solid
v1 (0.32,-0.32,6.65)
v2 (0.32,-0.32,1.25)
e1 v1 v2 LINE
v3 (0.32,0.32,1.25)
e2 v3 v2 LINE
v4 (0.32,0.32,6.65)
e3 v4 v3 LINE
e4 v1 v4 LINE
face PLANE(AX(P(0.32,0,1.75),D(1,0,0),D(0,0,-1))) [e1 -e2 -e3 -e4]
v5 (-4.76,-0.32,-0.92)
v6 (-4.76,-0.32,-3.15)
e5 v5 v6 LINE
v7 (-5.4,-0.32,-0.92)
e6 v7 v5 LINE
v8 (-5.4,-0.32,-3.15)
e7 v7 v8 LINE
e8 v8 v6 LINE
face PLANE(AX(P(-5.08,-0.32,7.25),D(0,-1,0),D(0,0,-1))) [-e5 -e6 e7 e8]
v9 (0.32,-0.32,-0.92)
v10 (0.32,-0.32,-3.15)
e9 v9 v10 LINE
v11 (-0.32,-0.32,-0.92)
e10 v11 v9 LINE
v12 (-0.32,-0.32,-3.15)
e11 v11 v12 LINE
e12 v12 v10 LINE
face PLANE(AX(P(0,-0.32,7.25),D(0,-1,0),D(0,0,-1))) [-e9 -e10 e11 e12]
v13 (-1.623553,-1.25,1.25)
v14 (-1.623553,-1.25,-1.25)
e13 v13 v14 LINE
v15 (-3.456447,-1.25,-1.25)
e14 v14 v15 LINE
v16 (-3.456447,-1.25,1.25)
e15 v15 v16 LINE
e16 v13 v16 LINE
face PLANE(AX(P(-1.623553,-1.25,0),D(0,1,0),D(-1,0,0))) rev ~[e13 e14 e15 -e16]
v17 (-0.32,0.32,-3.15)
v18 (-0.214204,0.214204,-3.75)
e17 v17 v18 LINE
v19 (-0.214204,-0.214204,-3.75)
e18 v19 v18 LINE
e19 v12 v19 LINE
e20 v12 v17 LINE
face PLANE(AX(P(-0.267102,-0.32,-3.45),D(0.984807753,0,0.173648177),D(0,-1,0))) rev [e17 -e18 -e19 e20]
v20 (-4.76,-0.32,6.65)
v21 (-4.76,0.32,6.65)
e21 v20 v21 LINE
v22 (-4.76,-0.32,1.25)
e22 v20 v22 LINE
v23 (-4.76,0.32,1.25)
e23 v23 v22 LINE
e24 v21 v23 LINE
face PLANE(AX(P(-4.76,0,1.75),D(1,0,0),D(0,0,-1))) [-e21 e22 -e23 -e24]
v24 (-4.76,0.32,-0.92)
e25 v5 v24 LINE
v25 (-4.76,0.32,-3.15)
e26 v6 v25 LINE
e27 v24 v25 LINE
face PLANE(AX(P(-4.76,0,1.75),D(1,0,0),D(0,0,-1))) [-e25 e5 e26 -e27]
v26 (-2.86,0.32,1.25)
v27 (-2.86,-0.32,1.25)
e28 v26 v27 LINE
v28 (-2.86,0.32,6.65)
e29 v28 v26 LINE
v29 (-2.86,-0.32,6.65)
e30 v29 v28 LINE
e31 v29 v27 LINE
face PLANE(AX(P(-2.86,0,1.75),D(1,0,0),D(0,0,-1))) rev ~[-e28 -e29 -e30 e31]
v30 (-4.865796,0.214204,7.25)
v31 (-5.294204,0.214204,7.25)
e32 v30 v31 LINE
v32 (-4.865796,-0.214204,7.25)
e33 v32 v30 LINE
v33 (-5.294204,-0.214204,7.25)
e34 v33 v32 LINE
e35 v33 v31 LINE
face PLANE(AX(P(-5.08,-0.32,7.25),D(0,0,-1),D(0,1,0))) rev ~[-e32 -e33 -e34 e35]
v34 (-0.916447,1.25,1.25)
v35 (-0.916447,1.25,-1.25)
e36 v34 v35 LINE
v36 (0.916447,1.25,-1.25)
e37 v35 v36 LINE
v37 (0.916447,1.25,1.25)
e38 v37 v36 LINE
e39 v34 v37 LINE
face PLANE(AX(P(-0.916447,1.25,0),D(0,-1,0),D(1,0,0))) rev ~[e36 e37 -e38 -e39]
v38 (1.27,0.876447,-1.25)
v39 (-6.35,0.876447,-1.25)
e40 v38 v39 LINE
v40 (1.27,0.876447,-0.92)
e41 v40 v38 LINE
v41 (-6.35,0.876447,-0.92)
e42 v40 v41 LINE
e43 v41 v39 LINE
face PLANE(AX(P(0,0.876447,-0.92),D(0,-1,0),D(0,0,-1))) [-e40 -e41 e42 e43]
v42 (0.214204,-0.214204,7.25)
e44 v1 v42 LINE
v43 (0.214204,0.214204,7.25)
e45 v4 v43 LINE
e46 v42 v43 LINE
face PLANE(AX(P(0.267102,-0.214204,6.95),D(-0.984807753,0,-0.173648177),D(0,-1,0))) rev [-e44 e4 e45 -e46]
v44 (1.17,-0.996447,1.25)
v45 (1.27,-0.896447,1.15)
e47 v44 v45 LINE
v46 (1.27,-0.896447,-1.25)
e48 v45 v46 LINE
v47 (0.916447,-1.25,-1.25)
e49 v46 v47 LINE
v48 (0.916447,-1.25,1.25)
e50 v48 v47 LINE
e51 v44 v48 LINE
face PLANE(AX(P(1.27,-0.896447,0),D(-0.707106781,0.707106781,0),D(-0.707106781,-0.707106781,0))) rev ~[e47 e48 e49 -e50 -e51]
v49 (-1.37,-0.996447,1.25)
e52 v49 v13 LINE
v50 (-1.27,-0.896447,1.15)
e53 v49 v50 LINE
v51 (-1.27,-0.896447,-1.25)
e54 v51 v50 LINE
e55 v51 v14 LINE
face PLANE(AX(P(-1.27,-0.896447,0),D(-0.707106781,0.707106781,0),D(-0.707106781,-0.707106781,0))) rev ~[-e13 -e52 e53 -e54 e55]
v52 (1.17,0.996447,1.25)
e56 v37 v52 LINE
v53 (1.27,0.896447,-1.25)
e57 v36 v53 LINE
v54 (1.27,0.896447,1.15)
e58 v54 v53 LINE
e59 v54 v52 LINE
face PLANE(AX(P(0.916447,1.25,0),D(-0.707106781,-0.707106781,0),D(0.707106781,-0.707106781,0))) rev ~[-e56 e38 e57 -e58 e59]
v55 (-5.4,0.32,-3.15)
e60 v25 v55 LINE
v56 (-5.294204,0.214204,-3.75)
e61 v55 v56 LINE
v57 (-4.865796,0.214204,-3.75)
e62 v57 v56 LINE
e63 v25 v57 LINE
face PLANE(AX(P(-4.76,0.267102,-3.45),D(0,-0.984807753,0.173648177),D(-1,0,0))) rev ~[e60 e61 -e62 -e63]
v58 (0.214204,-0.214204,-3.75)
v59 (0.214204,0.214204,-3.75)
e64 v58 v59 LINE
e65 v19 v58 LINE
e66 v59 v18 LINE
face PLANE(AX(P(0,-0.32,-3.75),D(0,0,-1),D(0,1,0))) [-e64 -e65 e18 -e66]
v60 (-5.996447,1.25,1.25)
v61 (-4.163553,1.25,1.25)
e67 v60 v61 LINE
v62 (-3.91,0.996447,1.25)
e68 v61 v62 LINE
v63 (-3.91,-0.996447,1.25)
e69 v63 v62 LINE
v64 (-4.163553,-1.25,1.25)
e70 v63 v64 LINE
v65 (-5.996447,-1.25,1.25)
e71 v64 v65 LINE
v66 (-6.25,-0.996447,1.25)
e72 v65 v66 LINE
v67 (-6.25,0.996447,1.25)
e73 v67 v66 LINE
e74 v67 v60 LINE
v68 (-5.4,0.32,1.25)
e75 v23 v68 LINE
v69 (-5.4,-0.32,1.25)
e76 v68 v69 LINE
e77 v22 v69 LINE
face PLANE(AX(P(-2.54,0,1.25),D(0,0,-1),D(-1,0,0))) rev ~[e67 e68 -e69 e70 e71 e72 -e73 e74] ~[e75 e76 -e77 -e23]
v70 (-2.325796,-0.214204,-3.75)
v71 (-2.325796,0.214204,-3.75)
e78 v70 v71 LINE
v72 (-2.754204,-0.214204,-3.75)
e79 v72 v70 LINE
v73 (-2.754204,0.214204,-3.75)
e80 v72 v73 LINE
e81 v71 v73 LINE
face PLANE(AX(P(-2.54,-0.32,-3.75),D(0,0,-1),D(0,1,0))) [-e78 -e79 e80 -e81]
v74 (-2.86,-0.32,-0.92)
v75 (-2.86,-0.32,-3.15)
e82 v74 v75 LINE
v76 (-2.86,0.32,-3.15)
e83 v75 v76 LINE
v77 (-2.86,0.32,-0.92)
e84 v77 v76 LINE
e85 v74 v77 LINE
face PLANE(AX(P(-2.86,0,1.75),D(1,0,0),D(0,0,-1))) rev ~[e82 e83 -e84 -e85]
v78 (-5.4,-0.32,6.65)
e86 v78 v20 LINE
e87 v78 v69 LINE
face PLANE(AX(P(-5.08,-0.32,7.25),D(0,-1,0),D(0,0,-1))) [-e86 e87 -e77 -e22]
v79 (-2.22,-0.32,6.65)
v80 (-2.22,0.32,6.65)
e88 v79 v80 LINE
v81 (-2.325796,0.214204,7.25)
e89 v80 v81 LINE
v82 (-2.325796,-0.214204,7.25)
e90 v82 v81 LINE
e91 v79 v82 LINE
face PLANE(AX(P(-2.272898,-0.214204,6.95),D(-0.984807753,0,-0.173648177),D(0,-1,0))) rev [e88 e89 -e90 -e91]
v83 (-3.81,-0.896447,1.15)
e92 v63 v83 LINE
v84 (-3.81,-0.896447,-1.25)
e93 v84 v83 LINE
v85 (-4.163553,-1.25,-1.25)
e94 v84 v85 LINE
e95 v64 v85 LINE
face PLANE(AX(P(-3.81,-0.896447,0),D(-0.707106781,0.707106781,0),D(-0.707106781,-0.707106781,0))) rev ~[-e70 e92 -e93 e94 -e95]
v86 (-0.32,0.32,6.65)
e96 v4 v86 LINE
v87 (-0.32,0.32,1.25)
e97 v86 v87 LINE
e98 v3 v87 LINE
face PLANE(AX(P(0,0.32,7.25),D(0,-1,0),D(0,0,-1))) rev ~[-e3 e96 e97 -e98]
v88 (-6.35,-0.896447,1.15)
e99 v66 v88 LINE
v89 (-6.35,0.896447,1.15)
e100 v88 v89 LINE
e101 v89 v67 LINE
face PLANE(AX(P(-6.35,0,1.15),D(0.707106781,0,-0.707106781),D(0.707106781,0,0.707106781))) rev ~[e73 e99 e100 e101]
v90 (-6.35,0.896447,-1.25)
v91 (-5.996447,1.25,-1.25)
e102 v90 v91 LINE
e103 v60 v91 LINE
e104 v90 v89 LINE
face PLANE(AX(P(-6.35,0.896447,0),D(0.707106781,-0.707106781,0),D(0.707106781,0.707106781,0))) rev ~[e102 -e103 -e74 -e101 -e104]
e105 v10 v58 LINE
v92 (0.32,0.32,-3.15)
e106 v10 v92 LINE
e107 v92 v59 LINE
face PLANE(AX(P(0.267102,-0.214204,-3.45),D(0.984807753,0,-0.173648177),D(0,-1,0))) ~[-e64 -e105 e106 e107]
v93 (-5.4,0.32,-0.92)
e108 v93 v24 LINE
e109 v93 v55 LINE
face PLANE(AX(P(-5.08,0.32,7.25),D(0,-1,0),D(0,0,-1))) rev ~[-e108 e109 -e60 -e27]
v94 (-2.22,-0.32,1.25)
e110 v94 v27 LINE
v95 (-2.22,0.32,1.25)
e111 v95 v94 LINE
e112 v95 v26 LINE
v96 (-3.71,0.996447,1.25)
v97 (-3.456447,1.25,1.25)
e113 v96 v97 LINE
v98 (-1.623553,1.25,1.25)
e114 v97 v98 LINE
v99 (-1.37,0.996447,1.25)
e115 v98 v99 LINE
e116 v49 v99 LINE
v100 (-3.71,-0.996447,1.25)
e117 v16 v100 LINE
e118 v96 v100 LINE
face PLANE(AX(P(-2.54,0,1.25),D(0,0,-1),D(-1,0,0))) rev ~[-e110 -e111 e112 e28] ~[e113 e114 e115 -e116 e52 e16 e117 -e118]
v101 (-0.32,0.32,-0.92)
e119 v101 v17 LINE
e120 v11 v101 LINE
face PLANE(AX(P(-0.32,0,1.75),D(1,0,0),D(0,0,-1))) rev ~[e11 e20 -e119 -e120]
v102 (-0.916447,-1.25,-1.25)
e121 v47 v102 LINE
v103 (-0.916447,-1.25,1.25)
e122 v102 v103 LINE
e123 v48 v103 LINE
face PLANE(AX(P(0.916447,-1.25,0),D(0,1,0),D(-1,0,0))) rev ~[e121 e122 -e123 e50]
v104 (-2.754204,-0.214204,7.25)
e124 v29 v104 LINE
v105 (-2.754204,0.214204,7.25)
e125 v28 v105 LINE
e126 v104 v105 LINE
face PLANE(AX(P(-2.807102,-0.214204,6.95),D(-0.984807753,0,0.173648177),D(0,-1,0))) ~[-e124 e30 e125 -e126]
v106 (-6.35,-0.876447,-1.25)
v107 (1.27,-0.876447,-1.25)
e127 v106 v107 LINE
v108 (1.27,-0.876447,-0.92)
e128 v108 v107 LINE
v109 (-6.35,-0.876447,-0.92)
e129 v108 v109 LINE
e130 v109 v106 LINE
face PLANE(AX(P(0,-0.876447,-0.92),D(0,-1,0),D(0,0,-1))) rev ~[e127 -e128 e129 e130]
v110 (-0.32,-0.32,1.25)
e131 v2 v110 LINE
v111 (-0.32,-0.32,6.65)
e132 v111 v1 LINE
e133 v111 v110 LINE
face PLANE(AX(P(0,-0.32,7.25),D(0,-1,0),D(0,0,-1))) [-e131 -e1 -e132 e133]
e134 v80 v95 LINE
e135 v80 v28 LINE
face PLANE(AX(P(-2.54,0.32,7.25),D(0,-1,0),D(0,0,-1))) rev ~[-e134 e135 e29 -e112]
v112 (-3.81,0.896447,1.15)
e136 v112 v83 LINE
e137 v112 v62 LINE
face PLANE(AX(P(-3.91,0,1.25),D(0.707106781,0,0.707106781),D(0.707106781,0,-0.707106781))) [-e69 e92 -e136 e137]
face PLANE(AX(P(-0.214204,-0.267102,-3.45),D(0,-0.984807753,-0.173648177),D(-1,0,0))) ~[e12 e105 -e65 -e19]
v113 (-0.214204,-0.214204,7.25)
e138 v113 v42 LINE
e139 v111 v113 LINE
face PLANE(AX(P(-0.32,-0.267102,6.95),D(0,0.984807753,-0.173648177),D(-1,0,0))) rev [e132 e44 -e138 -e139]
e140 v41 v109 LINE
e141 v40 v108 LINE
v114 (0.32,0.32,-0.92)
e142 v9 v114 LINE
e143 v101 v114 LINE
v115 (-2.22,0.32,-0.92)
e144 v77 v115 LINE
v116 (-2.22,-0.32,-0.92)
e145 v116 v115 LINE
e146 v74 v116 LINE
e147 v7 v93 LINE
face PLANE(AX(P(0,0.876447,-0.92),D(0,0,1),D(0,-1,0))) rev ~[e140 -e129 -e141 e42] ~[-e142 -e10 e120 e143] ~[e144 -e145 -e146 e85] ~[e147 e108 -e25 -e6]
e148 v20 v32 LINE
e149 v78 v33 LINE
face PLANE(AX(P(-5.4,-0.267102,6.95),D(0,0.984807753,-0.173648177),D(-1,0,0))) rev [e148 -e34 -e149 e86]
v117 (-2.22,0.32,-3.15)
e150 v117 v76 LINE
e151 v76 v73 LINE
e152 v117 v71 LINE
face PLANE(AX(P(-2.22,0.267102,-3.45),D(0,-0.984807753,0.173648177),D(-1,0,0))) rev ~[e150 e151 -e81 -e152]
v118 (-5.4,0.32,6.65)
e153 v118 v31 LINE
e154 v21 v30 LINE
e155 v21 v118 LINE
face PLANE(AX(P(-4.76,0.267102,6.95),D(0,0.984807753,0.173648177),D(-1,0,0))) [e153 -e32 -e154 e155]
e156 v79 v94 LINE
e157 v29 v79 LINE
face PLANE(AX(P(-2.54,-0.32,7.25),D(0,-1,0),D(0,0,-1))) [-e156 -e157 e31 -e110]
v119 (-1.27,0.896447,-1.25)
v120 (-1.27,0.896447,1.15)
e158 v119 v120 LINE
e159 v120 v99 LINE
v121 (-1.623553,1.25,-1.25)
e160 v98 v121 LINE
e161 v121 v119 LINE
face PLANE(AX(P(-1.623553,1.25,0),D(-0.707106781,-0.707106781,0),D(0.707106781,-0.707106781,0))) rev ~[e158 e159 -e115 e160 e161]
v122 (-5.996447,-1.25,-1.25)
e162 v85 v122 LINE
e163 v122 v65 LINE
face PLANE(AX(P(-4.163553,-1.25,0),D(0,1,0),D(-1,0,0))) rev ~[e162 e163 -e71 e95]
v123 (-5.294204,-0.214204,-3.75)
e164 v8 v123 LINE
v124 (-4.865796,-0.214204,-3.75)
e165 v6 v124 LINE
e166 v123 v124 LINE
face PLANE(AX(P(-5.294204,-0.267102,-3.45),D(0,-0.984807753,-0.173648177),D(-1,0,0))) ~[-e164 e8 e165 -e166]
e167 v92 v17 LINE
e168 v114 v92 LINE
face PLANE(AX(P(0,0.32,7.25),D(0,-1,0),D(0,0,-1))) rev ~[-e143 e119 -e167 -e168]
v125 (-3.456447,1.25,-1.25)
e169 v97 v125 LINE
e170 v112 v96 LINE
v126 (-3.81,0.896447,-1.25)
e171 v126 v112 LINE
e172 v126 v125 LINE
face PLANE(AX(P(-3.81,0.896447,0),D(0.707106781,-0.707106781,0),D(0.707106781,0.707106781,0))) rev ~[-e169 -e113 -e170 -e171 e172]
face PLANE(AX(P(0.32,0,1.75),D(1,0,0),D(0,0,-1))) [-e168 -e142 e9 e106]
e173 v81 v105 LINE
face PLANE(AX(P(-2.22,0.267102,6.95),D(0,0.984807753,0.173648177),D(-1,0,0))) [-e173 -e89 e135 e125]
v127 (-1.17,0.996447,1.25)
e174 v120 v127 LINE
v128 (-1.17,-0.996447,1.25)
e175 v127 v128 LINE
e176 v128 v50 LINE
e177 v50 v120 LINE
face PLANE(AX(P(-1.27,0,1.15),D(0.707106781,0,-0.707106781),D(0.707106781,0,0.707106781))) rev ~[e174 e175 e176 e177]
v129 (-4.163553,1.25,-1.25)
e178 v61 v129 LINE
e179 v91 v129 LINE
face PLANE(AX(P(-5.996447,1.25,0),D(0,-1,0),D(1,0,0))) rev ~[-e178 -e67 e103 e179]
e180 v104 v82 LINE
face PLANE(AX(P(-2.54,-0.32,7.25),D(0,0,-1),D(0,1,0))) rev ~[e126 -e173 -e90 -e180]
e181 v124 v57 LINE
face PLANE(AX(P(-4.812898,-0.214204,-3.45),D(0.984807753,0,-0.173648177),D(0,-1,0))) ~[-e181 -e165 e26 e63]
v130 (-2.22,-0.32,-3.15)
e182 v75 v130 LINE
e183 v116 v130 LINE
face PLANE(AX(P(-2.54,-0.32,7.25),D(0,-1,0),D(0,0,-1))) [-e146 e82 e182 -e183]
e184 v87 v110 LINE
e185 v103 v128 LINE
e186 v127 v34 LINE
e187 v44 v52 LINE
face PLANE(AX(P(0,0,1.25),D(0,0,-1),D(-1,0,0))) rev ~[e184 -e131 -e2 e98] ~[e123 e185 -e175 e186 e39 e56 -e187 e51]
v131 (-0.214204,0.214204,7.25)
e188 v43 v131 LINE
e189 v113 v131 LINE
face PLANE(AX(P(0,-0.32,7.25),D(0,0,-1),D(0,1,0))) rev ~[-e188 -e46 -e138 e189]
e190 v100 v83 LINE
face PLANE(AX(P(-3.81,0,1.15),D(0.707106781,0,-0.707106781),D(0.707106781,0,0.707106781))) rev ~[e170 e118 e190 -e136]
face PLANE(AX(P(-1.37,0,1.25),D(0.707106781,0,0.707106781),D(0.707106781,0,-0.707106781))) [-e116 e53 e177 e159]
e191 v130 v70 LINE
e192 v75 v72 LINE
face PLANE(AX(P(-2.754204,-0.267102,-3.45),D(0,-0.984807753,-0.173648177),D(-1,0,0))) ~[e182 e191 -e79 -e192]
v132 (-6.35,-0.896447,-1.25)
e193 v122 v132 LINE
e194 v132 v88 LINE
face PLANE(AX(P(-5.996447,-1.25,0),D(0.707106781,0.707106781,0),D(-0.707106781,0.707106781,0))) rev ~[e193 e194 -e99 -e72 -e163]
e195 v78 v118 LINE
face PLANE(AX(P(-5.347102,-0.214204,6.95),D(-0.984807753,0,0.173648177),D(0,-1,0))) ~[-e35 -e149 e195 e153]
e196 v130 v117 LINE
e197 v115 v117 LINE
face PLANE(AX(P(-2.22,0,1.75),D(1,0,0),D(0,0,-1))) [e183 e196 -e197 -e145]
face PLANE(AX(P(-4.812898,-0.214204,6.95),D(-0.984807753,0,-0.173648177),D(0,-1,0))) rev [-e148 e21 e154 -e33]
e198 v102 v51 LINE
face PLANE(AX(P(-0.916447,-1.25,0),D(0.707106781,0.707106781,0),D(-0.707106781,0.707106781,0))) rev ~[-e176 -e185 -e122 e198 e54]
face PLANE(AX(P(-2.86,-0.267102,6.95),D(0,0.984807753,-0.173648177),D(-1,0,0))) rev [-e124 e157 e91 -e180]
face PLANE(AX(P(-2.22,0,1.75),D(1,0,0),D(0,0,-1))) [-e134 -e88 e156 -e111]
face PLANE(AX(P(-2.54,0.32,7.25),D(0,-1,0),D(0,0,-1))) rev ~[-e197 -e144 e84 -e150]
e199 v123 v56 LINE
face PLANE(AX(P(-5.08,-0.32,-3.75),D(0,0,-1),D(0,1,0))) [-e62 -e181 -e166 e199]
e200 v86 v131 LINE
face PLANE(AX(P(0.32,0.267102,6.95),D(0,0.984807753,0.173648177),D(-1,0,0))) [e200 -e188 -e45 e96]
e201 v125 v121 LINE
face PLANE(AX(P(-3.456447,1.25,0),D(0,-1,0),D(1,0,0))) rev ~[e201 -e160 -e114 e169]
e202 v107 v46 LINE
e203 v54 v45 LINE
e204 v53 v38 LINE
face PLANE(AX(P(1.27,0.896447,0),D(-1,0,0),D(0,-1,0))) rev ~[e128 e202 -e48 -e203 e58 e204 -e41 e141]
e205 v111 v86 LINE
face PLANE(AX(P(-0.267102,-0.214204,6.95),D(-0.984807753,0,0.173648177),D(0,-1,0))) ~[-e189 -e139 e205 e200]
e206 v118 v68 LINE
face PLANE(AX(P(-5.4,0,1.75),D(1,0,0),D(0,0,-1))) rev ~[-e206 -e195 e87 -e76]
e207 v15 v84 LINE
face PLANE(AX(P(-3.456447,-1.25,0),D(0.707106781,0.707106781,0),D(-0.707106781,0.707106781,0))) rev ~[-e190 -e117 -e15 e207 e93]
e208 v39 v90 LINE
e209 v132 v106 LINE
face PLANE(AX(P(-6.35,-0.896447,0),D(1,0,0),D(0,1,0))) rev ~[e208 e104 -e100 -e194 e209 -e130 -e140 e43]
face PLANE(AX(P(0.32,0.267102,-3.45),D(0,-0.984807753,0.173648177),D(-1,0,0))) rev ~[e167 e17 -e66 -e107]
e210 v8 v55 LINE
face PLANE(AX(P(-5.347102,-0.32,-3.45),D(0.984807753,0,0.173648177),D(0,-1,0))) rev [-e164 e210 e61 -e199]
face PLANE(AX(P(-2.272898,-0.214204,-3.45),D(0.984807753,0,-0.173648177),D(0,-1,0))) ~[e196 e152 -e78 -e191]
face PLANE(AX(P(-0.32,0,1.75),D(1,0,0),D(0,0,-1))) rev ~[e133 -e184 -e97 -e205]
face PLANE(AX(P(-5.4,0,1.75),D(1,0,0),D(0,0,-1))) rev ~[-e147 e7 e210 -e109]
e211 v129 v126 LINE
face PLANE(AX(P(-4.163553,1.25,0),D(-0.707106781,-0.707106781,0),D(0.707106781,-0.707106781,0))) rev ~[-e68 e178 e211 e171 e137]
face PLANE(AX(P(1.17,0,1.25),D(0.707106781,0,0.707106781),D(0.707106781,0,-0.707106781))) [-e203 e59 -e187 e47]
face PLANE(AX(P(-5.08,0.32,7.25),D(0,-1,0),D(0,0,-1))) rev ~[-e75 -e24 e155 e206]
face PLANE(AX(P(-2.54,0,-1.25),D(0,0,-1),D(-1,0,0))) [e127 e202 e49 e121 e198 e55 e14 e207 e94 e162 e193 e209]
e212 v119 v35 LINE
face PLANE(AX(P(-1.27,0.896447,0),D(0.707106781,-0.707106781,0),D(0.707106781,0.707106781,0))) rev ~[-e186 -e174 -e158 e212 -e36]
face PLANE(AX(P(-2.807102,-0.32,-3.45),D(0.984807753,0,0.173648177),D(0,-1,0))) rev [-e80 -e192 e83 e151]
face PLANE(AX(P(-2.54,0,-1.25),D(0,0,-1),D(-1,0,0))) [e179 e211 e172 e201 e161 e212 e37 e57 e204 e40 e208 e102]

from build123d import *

# Parameters (mm, degrees)
EXTRUDE1_DEPTH          = 1.25
CUT_EXTRUDE3_DEPTH      = 2.25
LPATTERN4_COUNT         = 3
LPATTERN4_PITCH         = 2.54
SKETCH2_W               = 1.752893218
SKETCH2_H               = 0.33
CUT_EXTRUDE1_DEPTH      = 2.27
CUT_EXTRUDE1_DEPTH_BACK = 7.35
SKETCH3_W               = 11
SKETCH3_H               = 0.64
EXTRUDE_THIN1_DEPTH     = 0.32
LPATTERN5_COUNT         = 3
LPATTERN5_PITCH         = 2.54
CHAMFER2_SIZE           = 0.6
CHAMFER2_SIZE2          = 0.105796188
CHAMFER2_PART_2_SIZE    = 0.6
CHAMFER2_PART_2_SIZE2   = 0.105796188
CHAMFER2_PART_3_SIZE    = 0.6
CHAMFER2_PART_3_SIZE2   = 0.105796188
CHAMFER2_PART_4_SIZE    = 0.6
CHAMFER2_PART_4_SIZE2   = 0.105796188
CHAMFER2_PART_5_SIZE    = 0.6
CHAMFER2_PART_5_SIZE2   = 0.105796188
CHAMFER2_PART_6_SIZE    = 0.6
CHAMFER2_PART_6_SIZE2   = 0.105796188
CHAMFER2_PART_7_SIZE    = 0.6
CHAMFER2_PART_7_SIZE2   = 0.105796188
CHAMFER2_PART_8_SIZE    = 0.6
CHAMFER2_PART_8_SIZE2   = 0.105796188
CHAMFER2_PART_9_SIZE    = 0.6
CHAMFER2_PART_9_SIZE2   = 0.105796188
CHAMFER2_PART_10_SIZE   = 0.6
CHAMFER2_PART_10_SIZE2  = 0.105796188
CHAMFER2_PART_11_SIZE   = 0.6
CHAMFER2_PART_11_SIZE2  = 0.105796188
CHAMFER2_PART_12_SIZE   = 0.6
CHAMFER2_PART_12_SIZE2  = 0.105796188
CHAMFER2_PART_13_SIZE   = 0.6
CHAMFER2_PART_13_SIZE2  = 0.105796188
CHAMFER2_PART_14_SIZE   = 0.6
CHAMFER2_PART_14_SIZE2  = 0.105796188
CHAMFER2_PART_15_SIZE   = 0.6
CHAMFER2_PART_15_SIZE2  = 0.105796188
CHAMFER2_PART_16_SIZE   = 0.6
CHAMFER2_PART_16_SIZE2  = 0.105796188
CHAMFER2_PART_17_SIZE   = 0.6
CHAMFER2_PART_17_SIZE2  = 0.105796188
CHAMFER2_PART_18_SIZE   = 0.6
CHAMFER2_PART_18_SIZE2  = 0.105796188
CHAMFER2_PART_19_SIZE   = 0.6
CHAMFER2_PART_19_SIZE2  = 0.105796188
CHAMFER2_PART_20_SIZE   = 0.6
CHAMFER2_PART_20_SIZE2  = 0.105796188
CHAMFER2_PART_21_SIZE   = 0.6
CHAMFER2_PART_21_SIZE2  = 0.105796188
CHAMFER2_PART_22_SIZE   = 0.6
CHAMFER2_PART_22_SIZE2  = 0.105796188
CHAMFER2_PART_23_SIZE   = 0.6
CHAMFER2_PART_23_SIZE2  = 0.105796188
CHAMFER2_PART_24_SIZE   = 0.6
CHAMFER2_PART_24_SIZE2  = 0.105796188


with BuildPart() as part:
    # Sketch1 → Extrude1 (new body, symmetric)
    with BuildSketch(Plane.XY):
        Polygon((-1.27, 0.896446609), (-0.916446609, 1.25), (0.916446609, 1.25), (1.27, 0.896446609), (1.27, -0.896446609), (0.916446609, -1.25), (-0.916446609, -1.25), (-1.27, -0.896446609), align=None)
    extrude1 = extrude(amount=EXTRUDE1_DEPTH, both=True)

    # Sketch4 → Cut-Extrude3 (cut, symmetric)
    with BuildSketch(Plane(origin=(0, 0, 0), x_dir=(1, 0, 0), z_dir=(0, 1, 0))):
        Polygon((-1.27, -1.15), (-1.17, -1.25), (-1.27, -1.25), align=None)
        Polygon((1.17, -1.25), (1.27, -1.15), (1.27, -1.25), align=None)
    cut_extrude3 = extrude(amount=CUT_EXTRUDE3_DEPTH, both=True, mode=Mode.SUBTRACT)

    # LPattern4: Extrude1, Cut-Extrude3 ×3
    with Locations(*[(-i * LPATTERN4_PITCH, 0, 0) for i in range(1, LPATTERN4_COUNT)]):
        add(extrude1)
        add(cut_extrude3, mode=Mode.SUBTRACT)

    # Sketch2 → Cut-Extrude1 (cut, two sides)
    with BuildSketch(Plane(origin=(0, 0, 0), x_dir=(0, -1, 0), z_dir=(1, 0, 0))) as cut_extrude1_sk:
        with Locations((0, 1.085)):
            Rectangle(SKETCH2_W, SKETCH2_H)
    extrude(amount=CUT_EXTRUDE1_DEPTH, mode=Mode.SUBTRACT)
    extrude(cut_extrude1_sk.sketch, amount=-CUT_EXTRUDE1_DEPTH_BACK, mode=Mode.SUBTRACT)

    # Sketch3 → Extrude-Thin1 (add, symmetric)
    with BuildSketch(Plane(origin=(0, 0, 0), x_dir=(0, 0, -1), z_dir=(1, 0, 0))):
        with Locations((-1.75, 0)):
            Rectangle(SKETCH3_W, SKETCH3_H)
    extrude_thin1 = extrude(amount=EXTRUDE_THIN1_DEPTH, both=True)

    # LPattern5: Extrude-Thin1 ×3
    with Locations(*[(-i * LPATTERN5_PITCH, 0, 0) for i in range(1, LPATTERN5_COUNT)]):
        add(extrude_thin1)

    # Chamfer2
    chamfer2_edges = [part.edges().sort_by_distance(p)[0] for p in [
        (0, -0.32, 7.25),
    ]]
    chamfer2_side = [part.faces().sort_by_distance(p)[0] for p in [
        (0, -0.32, 4.25),
    ]]
    chamfer(chamfer2_edges, length=CHAMFER2_SIZE, length2=CHAMFER2_SIZE2, reference=chamfer2_side[0])

    # Chamfer2 part 2
    chamfer2_part_2_edges = [part.edges().sort_by_distance(p)[0] for p in [
        (0, 0.32, -3.75),
    ]]
    chamfer2_part_2_side = [part.faces().sort_by_distance(p)[0] for p in [
        (0, 0.32, -2.335),
    ]]
    chamfer(chamfer2_part_2_edges, length=CHAMFER2_PART_2_SIZE, length2=CHAMFER2_PART_2_SIZE2, reference=chamfer2_part_2_side[0])

    # Chamfer2 part 3
    chamfer2_part_3_edges = [part.edges().sort_by_distance(p)[0] for p in [
        (-0.32, 0, 7.25),
    ]]
    chamfer2_part_3_side = [part.faces().sort_by_distance(p)[0] for p in [
        (-0.32, 0, 4.25),
    ]]
    chamfer(chamfer2_part_3_edges, length=CHAMFER2_PART_3_SIZE, length2=CHAMFER2_PART_3_SIZE2, reference=chamfer2_part_3_side[0])

    # Chamfer2 part 4
    chamfer2_part_4_edges = [part.edges().sort_by_distance(p)[0] for p in [
        (-0.32, 0, -3.75),
    ]]
    chamfer2_part_4_side = [part.faces().sort_by_distance(p)[0] for p in [
        (-0.32, 0, -2.335),
    ]]
    chamfer(chamfer2_part_4_edges, length=CHAMFER2_PART_4_SIZE, length2=CHAMFER2_PART_4_SIZE2, reference=chamfer2_part_4_side[0])

    # Chamfer2 part 5
    chamfer2_part_5_edges = [part.edges().sort_by_distance(p)[0] for p in [
        (0, -0.32, -3.75),
    ]]
    chamfer2_part_5_side = [part.faces().sort_by_distance(p)[0] for p in [
        (0, -0.32, -2.335),
    ]]
    chamfer(chamfer2_part_5_edges, length=CHAMFER2_PART_5_SIZE, length2=CHAMFER2_PART_5_SIZE2, reference=chamfer2_part_5_side[0])

    # Chamfer2 part 6
    chamfer2_part_6_edges = [part.edges().sort_by_distance(p)[0] for p in [
        (0.32, 0, -3.75),
    ]]
    chamfer2_part_6_side = [part.faces().sort_by_distance(p)[0] for p in [
        (0.32, 0, -2.335),
    ]]
    chamfer(chamfer2_part_6_edges, length=CHAMFER2_PART_6_SIZE, length2=CHAMFER2_PART_6_SIZE2, reference=chamfer2_part_6_side[0])

    # Chamfer2 part 7
    chamfer2_part_7_edges = [part.edges().sort_by_distance(p)[0] for p in [
        (0, 0.32, 7.25),
    ]]
    chamfer2_part_7_side = [part.faces().sort_by_distance(p)[0] for p in [
        (0, 0.32, 4.25),
    ]]
    chamfer(chamfer2_part_7_edges, length=CHAMFER2_PART_7_SIZE, length2=CHAMFER2_PART_7_SIZE2, reference=chamfer2_part_7_side[0])

    # Chamfer2 part 8
    chamfer2_part_8_edges = [part.edges().sort_by_distance(p)[0] for p in [
        (0.32, 0, 7.25),
    ]]
    chamfer2_part_8_side = [part.faces().sort_by_distance(p)[0] for p in [
        (0.32, 0, 4.25),
    ]]
    chamfer(chamfer2_part_8_edges, length=CHAMFER2_PART_8_SIZE, length2=CHAMFER2_PART_8_SIZE2, reference=chamfer2_part_8_side[0])

    # Chamfer2 part 9
    chamfer2_part_9_edges = [part.edges().sort_by_distance(p)[0] for p in [
        (-2.54, -0.32, 7.25),
    ]]
    chamfer2_part_9_side = [part.faces().sort_by_distance(p)[0] for p in [
        (-2.54, -0.32, 4.25),
    ]]
    chamfer(chamfer2_part_9_edges, length=CHAMFER2_PART_9_SIZE, length2=CHAMFER2_PART_9_SIZE2, reference=chamfer2_part_9_side[0])

    # Chamfer2 part 10
    chamfer2_part_10_edges = [part.edges().sort_by_distance(p)[0] for p in [
        (-2.54, 0.32, -3.75),
    ]]
    chamfer2_part_10_side = [part.faces().sort_by_distance(p)[0] for p in [
        (-2.54, 0.32, -2.335),
    ]]
    chamfer(chamfer2_part_10_edges, length=CHAMFER2_PART_10_SIZE, length2=CHAMFER2_PART_10_SIZE2, reference=chamfer2_part_10_side[0])

    # Chamfer2 part 11
    chamfer2_part_11_edges = [part.edges().sort_by_distance(p)[0] for p in [
        (-2.86, 0, -3.75),
    ]]
    chamfer2_part_11_side = [part.faces().sort_by_distance(p)[0] for p in [
        (-2.86, 0, -2.335),
    ]]
    chamfer(chamfer2_part_11_edges, length=CHAMFER2_PART_11_SIZE, length2=CHAMFER2_PART_11_SIZE2, reference=chamfer2_part_11_side[0])

    # Chamfer2 part 12
    chamfer2_part_12_edges = [part.edges().sort_by_distance(p)[0] for p in [
        (-2.86, 0, 7.25),
    ]]
    chamfer2_part_12_side = [part.faces().sort_by_distance(p)[0] for p in [
        (-2.86, 0, 4.25),
    ]]
    chamfer(chamfer2_part_12_edges, length=CHAMFER2_PART_12_SIZE, length2=CHAMFER2_PART_12_SIZE2, reference=chamfer2_part_12_side[0])

    # Chamfer2 part 13
    chamfer2_part_13_edges = [part.edges().sort_by_distance(p)[0] for p in [
        (-2.54, -0.32, -3.75),
    ]]
    chamfer2_part_13_side = [part.faces().sort_by_distance(p)[0] for p in [
        (-2.54, -0.32, -2.335),
    ]]
    chamfer(chamfer2_part_13_edges, length=CHAMFER2_PART_13_SIZE, length2=CHAMFER2_PART_13_SIZE2, reference=chamfer2_part_13_side[0])

    # Chamfer2 part 14
    chamfer2_part_14_edges = [part.edges().sort_by_distance(p)[0] for p in [
        (-2.22, 0, -3.75),
    ]]
    chamfer2_part_14_side = [part.faces().sort_by_distance(p)[0] for p in [
        (-2.22, 0, -2.335),
    ]]
    chamfer(chamfer2_part_14_edges, length=CHAMFER2_PART_14_SIZE, length2=CHAMFER2_PART_14_SIZE2, reference=chamfer2_part_14_side[0])

    # Chamfer2 part 15
    chamfer2_part_15_edges = [part.edges().sort_by_distance(p)[0] for p in [
        (-2.54, 0.32, 7.25),
    ]]
    chamfer2_part_15_side = [part.faces().sort_by_distance(p)[0] for p in [
        (-2.54, 0.32, 4.25),
    ]]
    chamfer(chamfer2_part_15_edges, length=CHAMFER2_PART_15_SIZE, length2=CHAMFER2_PART_15_SIZE2, reference=chamfer2_part_15_side[0])

    # Chamfer2 part 16
    chamfer2_part_16_edges = [part.edges().sort_by_distance(p)[0] for p in [
        (-2.22, 0, 7.25),
    ]]
    chamfer2_part_16_side = [part.faces().sort_by_distance(p)[0] for p in [
        (-2.22, 0, 4.25),
    ]]
    chamfer(chamfer2_part_16_edges, length=CHAMFER2_PART_16_SIZE, length2=CHAMFER2_PART_16_SIZE2, reference=chamfer2_part_16_side[0])

    # Chamfer2 part 17
    chamfer2_part_17_edges = [part.edges().sort_by_distance(p)[0] for p in [
        (-5.08, -0.32, 7.25),
    ]]
    chamfer2_part_17_side = [part.faces().sort_by_distance(p)[0] for p in [
        (-5.08, -0.32, 4.25),
    ]]
    chamfer(chamfer2_part_17_edges, length=CHAMFER2_PART_17_SIZE, length2=CHAMFER2_PART_17_SIZE2, reference=chamfer2_part_17_side[0])

    # Chamfer2 part 18
    chamfer2_part_18_edges = [part.edges().sort_by_distance(p)[0] for p in [
        (-5.08, 0.32, -3.75),
    ]]
    chamfer2_part_18_side = [part.faces().sort_by_distance(p)[0] for p in [
        (-5.08, 0.32, -2.335),
    ]]
    chamfer(chamfer2_part_18_edges, length=CHAMFER2_PART_18_SIZE, length2=CHAMFER2_PART_18_SIZE2, reference=chamfer2_part_18_side[0])

    # Chamfer2 part 19
    chamfer2_part_19_edges = [part.edges().sort_by_distance(p)[0] for p in [
        (-5.4, 0, -3.75),
    ]]
    chamfer2_part_19_side = [part.faces().sort_by_distance(p)[0] for p in [
        (-5.4, 0, -2.335),
    ]]
    chamfer(chamfer2_part_19_edges, length=CHAMFER2_PART_19_SIZE, length2=CHAMFER2_PART_19_SIZE2, reference=chamfer2_part_19_side[0])

    # Chamfer2 part 20
    chamfer2_part_20_edges = [part.edges().sort_by_distance(p)[0] for p in [
        (-5.4, 0, 7.25),
    ]]
    chamfer2_part_20_side = [part.faces().sort_by_distance(p)[0] for p in [
        (-5.4, 0, 4.25),
    ]]
    chamfer(chamfer2_part_20_edges, length=CHAMFER2_PART_20_SIZE, length2=CHAMFER2_PART_20_SIZE2, reference=chamfer2_part_20_side[0])

    # Chamfer2 part 21
    chamfer2_part_21_edges = [part.edges().sort_by_distance(p)[0] for p in [
        (-5.08, -0.32, -3.75),
    ]]
    chamfer2_part_21_side = [part.faces().sort_by_distance(p)[0] for p in [
        (-5.08, -0.32, -2.335),
    ]]
    chamfer(chamfer2_part_21_edges, length=CHAMFER2_PART_21_SIZE, length2=CHAMFER2_PART_21_SIZE2, reference=chamfer2_part_21_side[0])

    # Chamfer2 part 22
    chamfer2_part_22_edges = [part.edges().sort_by_distance(p)[0] for p in [
        (-4.76, 0, -3.75),
    ]]
    chamfer2_part_22_side = [part.faces().sort_by_distance(p)[0] for p in [
        (-4.76, 0, -2.335),
    ]]
    chamfer(chamfer2_part_22_edges, length=CHAMFER2_PART_22_SIZE, length2=CHAMFER2_PART_22_SIZE2, reference=chamfer2_part_22_side[0])

    # Chamfer2 part 23
    chamfer2_part_23_edges = [part.edges().sort_by_distance(p)[0] for p in [
        (-5.08, 0.32, 7.25),
    ]]
    chamfer2_part_23_side = [part.faces().sort_by_distance(p)[0] for p in [
        (-5.08, 0.32, 4.25),
    ]]
    chamfer(chamfer2_part_23_edges, length=CHAMFER2_PART_23_SIZE, length2=CHAMFER2_PART_23_SIZE2, reference=chamfer2_part_23_side[0])

    # Chamfer2 part 24
    chamfer2_part_24_edges = [part.edges().sort_by_distance(p)[0] for p in [
        (-4.76, 0, 7.25),
    ]]
    chamfer2_part_24_side = [part.faces().sort_by_distance(p)[0] for p in [
        (-4.76, 0, 4.25),
    ]]
    chamfer(chamfer2_part_24_edges, length=CHAMFER2_PART_24_SIZE, length2=CHAMFER2_PART_24_SIZE2, reference=chamfer2_part_24_side[0])


solid = part.part
